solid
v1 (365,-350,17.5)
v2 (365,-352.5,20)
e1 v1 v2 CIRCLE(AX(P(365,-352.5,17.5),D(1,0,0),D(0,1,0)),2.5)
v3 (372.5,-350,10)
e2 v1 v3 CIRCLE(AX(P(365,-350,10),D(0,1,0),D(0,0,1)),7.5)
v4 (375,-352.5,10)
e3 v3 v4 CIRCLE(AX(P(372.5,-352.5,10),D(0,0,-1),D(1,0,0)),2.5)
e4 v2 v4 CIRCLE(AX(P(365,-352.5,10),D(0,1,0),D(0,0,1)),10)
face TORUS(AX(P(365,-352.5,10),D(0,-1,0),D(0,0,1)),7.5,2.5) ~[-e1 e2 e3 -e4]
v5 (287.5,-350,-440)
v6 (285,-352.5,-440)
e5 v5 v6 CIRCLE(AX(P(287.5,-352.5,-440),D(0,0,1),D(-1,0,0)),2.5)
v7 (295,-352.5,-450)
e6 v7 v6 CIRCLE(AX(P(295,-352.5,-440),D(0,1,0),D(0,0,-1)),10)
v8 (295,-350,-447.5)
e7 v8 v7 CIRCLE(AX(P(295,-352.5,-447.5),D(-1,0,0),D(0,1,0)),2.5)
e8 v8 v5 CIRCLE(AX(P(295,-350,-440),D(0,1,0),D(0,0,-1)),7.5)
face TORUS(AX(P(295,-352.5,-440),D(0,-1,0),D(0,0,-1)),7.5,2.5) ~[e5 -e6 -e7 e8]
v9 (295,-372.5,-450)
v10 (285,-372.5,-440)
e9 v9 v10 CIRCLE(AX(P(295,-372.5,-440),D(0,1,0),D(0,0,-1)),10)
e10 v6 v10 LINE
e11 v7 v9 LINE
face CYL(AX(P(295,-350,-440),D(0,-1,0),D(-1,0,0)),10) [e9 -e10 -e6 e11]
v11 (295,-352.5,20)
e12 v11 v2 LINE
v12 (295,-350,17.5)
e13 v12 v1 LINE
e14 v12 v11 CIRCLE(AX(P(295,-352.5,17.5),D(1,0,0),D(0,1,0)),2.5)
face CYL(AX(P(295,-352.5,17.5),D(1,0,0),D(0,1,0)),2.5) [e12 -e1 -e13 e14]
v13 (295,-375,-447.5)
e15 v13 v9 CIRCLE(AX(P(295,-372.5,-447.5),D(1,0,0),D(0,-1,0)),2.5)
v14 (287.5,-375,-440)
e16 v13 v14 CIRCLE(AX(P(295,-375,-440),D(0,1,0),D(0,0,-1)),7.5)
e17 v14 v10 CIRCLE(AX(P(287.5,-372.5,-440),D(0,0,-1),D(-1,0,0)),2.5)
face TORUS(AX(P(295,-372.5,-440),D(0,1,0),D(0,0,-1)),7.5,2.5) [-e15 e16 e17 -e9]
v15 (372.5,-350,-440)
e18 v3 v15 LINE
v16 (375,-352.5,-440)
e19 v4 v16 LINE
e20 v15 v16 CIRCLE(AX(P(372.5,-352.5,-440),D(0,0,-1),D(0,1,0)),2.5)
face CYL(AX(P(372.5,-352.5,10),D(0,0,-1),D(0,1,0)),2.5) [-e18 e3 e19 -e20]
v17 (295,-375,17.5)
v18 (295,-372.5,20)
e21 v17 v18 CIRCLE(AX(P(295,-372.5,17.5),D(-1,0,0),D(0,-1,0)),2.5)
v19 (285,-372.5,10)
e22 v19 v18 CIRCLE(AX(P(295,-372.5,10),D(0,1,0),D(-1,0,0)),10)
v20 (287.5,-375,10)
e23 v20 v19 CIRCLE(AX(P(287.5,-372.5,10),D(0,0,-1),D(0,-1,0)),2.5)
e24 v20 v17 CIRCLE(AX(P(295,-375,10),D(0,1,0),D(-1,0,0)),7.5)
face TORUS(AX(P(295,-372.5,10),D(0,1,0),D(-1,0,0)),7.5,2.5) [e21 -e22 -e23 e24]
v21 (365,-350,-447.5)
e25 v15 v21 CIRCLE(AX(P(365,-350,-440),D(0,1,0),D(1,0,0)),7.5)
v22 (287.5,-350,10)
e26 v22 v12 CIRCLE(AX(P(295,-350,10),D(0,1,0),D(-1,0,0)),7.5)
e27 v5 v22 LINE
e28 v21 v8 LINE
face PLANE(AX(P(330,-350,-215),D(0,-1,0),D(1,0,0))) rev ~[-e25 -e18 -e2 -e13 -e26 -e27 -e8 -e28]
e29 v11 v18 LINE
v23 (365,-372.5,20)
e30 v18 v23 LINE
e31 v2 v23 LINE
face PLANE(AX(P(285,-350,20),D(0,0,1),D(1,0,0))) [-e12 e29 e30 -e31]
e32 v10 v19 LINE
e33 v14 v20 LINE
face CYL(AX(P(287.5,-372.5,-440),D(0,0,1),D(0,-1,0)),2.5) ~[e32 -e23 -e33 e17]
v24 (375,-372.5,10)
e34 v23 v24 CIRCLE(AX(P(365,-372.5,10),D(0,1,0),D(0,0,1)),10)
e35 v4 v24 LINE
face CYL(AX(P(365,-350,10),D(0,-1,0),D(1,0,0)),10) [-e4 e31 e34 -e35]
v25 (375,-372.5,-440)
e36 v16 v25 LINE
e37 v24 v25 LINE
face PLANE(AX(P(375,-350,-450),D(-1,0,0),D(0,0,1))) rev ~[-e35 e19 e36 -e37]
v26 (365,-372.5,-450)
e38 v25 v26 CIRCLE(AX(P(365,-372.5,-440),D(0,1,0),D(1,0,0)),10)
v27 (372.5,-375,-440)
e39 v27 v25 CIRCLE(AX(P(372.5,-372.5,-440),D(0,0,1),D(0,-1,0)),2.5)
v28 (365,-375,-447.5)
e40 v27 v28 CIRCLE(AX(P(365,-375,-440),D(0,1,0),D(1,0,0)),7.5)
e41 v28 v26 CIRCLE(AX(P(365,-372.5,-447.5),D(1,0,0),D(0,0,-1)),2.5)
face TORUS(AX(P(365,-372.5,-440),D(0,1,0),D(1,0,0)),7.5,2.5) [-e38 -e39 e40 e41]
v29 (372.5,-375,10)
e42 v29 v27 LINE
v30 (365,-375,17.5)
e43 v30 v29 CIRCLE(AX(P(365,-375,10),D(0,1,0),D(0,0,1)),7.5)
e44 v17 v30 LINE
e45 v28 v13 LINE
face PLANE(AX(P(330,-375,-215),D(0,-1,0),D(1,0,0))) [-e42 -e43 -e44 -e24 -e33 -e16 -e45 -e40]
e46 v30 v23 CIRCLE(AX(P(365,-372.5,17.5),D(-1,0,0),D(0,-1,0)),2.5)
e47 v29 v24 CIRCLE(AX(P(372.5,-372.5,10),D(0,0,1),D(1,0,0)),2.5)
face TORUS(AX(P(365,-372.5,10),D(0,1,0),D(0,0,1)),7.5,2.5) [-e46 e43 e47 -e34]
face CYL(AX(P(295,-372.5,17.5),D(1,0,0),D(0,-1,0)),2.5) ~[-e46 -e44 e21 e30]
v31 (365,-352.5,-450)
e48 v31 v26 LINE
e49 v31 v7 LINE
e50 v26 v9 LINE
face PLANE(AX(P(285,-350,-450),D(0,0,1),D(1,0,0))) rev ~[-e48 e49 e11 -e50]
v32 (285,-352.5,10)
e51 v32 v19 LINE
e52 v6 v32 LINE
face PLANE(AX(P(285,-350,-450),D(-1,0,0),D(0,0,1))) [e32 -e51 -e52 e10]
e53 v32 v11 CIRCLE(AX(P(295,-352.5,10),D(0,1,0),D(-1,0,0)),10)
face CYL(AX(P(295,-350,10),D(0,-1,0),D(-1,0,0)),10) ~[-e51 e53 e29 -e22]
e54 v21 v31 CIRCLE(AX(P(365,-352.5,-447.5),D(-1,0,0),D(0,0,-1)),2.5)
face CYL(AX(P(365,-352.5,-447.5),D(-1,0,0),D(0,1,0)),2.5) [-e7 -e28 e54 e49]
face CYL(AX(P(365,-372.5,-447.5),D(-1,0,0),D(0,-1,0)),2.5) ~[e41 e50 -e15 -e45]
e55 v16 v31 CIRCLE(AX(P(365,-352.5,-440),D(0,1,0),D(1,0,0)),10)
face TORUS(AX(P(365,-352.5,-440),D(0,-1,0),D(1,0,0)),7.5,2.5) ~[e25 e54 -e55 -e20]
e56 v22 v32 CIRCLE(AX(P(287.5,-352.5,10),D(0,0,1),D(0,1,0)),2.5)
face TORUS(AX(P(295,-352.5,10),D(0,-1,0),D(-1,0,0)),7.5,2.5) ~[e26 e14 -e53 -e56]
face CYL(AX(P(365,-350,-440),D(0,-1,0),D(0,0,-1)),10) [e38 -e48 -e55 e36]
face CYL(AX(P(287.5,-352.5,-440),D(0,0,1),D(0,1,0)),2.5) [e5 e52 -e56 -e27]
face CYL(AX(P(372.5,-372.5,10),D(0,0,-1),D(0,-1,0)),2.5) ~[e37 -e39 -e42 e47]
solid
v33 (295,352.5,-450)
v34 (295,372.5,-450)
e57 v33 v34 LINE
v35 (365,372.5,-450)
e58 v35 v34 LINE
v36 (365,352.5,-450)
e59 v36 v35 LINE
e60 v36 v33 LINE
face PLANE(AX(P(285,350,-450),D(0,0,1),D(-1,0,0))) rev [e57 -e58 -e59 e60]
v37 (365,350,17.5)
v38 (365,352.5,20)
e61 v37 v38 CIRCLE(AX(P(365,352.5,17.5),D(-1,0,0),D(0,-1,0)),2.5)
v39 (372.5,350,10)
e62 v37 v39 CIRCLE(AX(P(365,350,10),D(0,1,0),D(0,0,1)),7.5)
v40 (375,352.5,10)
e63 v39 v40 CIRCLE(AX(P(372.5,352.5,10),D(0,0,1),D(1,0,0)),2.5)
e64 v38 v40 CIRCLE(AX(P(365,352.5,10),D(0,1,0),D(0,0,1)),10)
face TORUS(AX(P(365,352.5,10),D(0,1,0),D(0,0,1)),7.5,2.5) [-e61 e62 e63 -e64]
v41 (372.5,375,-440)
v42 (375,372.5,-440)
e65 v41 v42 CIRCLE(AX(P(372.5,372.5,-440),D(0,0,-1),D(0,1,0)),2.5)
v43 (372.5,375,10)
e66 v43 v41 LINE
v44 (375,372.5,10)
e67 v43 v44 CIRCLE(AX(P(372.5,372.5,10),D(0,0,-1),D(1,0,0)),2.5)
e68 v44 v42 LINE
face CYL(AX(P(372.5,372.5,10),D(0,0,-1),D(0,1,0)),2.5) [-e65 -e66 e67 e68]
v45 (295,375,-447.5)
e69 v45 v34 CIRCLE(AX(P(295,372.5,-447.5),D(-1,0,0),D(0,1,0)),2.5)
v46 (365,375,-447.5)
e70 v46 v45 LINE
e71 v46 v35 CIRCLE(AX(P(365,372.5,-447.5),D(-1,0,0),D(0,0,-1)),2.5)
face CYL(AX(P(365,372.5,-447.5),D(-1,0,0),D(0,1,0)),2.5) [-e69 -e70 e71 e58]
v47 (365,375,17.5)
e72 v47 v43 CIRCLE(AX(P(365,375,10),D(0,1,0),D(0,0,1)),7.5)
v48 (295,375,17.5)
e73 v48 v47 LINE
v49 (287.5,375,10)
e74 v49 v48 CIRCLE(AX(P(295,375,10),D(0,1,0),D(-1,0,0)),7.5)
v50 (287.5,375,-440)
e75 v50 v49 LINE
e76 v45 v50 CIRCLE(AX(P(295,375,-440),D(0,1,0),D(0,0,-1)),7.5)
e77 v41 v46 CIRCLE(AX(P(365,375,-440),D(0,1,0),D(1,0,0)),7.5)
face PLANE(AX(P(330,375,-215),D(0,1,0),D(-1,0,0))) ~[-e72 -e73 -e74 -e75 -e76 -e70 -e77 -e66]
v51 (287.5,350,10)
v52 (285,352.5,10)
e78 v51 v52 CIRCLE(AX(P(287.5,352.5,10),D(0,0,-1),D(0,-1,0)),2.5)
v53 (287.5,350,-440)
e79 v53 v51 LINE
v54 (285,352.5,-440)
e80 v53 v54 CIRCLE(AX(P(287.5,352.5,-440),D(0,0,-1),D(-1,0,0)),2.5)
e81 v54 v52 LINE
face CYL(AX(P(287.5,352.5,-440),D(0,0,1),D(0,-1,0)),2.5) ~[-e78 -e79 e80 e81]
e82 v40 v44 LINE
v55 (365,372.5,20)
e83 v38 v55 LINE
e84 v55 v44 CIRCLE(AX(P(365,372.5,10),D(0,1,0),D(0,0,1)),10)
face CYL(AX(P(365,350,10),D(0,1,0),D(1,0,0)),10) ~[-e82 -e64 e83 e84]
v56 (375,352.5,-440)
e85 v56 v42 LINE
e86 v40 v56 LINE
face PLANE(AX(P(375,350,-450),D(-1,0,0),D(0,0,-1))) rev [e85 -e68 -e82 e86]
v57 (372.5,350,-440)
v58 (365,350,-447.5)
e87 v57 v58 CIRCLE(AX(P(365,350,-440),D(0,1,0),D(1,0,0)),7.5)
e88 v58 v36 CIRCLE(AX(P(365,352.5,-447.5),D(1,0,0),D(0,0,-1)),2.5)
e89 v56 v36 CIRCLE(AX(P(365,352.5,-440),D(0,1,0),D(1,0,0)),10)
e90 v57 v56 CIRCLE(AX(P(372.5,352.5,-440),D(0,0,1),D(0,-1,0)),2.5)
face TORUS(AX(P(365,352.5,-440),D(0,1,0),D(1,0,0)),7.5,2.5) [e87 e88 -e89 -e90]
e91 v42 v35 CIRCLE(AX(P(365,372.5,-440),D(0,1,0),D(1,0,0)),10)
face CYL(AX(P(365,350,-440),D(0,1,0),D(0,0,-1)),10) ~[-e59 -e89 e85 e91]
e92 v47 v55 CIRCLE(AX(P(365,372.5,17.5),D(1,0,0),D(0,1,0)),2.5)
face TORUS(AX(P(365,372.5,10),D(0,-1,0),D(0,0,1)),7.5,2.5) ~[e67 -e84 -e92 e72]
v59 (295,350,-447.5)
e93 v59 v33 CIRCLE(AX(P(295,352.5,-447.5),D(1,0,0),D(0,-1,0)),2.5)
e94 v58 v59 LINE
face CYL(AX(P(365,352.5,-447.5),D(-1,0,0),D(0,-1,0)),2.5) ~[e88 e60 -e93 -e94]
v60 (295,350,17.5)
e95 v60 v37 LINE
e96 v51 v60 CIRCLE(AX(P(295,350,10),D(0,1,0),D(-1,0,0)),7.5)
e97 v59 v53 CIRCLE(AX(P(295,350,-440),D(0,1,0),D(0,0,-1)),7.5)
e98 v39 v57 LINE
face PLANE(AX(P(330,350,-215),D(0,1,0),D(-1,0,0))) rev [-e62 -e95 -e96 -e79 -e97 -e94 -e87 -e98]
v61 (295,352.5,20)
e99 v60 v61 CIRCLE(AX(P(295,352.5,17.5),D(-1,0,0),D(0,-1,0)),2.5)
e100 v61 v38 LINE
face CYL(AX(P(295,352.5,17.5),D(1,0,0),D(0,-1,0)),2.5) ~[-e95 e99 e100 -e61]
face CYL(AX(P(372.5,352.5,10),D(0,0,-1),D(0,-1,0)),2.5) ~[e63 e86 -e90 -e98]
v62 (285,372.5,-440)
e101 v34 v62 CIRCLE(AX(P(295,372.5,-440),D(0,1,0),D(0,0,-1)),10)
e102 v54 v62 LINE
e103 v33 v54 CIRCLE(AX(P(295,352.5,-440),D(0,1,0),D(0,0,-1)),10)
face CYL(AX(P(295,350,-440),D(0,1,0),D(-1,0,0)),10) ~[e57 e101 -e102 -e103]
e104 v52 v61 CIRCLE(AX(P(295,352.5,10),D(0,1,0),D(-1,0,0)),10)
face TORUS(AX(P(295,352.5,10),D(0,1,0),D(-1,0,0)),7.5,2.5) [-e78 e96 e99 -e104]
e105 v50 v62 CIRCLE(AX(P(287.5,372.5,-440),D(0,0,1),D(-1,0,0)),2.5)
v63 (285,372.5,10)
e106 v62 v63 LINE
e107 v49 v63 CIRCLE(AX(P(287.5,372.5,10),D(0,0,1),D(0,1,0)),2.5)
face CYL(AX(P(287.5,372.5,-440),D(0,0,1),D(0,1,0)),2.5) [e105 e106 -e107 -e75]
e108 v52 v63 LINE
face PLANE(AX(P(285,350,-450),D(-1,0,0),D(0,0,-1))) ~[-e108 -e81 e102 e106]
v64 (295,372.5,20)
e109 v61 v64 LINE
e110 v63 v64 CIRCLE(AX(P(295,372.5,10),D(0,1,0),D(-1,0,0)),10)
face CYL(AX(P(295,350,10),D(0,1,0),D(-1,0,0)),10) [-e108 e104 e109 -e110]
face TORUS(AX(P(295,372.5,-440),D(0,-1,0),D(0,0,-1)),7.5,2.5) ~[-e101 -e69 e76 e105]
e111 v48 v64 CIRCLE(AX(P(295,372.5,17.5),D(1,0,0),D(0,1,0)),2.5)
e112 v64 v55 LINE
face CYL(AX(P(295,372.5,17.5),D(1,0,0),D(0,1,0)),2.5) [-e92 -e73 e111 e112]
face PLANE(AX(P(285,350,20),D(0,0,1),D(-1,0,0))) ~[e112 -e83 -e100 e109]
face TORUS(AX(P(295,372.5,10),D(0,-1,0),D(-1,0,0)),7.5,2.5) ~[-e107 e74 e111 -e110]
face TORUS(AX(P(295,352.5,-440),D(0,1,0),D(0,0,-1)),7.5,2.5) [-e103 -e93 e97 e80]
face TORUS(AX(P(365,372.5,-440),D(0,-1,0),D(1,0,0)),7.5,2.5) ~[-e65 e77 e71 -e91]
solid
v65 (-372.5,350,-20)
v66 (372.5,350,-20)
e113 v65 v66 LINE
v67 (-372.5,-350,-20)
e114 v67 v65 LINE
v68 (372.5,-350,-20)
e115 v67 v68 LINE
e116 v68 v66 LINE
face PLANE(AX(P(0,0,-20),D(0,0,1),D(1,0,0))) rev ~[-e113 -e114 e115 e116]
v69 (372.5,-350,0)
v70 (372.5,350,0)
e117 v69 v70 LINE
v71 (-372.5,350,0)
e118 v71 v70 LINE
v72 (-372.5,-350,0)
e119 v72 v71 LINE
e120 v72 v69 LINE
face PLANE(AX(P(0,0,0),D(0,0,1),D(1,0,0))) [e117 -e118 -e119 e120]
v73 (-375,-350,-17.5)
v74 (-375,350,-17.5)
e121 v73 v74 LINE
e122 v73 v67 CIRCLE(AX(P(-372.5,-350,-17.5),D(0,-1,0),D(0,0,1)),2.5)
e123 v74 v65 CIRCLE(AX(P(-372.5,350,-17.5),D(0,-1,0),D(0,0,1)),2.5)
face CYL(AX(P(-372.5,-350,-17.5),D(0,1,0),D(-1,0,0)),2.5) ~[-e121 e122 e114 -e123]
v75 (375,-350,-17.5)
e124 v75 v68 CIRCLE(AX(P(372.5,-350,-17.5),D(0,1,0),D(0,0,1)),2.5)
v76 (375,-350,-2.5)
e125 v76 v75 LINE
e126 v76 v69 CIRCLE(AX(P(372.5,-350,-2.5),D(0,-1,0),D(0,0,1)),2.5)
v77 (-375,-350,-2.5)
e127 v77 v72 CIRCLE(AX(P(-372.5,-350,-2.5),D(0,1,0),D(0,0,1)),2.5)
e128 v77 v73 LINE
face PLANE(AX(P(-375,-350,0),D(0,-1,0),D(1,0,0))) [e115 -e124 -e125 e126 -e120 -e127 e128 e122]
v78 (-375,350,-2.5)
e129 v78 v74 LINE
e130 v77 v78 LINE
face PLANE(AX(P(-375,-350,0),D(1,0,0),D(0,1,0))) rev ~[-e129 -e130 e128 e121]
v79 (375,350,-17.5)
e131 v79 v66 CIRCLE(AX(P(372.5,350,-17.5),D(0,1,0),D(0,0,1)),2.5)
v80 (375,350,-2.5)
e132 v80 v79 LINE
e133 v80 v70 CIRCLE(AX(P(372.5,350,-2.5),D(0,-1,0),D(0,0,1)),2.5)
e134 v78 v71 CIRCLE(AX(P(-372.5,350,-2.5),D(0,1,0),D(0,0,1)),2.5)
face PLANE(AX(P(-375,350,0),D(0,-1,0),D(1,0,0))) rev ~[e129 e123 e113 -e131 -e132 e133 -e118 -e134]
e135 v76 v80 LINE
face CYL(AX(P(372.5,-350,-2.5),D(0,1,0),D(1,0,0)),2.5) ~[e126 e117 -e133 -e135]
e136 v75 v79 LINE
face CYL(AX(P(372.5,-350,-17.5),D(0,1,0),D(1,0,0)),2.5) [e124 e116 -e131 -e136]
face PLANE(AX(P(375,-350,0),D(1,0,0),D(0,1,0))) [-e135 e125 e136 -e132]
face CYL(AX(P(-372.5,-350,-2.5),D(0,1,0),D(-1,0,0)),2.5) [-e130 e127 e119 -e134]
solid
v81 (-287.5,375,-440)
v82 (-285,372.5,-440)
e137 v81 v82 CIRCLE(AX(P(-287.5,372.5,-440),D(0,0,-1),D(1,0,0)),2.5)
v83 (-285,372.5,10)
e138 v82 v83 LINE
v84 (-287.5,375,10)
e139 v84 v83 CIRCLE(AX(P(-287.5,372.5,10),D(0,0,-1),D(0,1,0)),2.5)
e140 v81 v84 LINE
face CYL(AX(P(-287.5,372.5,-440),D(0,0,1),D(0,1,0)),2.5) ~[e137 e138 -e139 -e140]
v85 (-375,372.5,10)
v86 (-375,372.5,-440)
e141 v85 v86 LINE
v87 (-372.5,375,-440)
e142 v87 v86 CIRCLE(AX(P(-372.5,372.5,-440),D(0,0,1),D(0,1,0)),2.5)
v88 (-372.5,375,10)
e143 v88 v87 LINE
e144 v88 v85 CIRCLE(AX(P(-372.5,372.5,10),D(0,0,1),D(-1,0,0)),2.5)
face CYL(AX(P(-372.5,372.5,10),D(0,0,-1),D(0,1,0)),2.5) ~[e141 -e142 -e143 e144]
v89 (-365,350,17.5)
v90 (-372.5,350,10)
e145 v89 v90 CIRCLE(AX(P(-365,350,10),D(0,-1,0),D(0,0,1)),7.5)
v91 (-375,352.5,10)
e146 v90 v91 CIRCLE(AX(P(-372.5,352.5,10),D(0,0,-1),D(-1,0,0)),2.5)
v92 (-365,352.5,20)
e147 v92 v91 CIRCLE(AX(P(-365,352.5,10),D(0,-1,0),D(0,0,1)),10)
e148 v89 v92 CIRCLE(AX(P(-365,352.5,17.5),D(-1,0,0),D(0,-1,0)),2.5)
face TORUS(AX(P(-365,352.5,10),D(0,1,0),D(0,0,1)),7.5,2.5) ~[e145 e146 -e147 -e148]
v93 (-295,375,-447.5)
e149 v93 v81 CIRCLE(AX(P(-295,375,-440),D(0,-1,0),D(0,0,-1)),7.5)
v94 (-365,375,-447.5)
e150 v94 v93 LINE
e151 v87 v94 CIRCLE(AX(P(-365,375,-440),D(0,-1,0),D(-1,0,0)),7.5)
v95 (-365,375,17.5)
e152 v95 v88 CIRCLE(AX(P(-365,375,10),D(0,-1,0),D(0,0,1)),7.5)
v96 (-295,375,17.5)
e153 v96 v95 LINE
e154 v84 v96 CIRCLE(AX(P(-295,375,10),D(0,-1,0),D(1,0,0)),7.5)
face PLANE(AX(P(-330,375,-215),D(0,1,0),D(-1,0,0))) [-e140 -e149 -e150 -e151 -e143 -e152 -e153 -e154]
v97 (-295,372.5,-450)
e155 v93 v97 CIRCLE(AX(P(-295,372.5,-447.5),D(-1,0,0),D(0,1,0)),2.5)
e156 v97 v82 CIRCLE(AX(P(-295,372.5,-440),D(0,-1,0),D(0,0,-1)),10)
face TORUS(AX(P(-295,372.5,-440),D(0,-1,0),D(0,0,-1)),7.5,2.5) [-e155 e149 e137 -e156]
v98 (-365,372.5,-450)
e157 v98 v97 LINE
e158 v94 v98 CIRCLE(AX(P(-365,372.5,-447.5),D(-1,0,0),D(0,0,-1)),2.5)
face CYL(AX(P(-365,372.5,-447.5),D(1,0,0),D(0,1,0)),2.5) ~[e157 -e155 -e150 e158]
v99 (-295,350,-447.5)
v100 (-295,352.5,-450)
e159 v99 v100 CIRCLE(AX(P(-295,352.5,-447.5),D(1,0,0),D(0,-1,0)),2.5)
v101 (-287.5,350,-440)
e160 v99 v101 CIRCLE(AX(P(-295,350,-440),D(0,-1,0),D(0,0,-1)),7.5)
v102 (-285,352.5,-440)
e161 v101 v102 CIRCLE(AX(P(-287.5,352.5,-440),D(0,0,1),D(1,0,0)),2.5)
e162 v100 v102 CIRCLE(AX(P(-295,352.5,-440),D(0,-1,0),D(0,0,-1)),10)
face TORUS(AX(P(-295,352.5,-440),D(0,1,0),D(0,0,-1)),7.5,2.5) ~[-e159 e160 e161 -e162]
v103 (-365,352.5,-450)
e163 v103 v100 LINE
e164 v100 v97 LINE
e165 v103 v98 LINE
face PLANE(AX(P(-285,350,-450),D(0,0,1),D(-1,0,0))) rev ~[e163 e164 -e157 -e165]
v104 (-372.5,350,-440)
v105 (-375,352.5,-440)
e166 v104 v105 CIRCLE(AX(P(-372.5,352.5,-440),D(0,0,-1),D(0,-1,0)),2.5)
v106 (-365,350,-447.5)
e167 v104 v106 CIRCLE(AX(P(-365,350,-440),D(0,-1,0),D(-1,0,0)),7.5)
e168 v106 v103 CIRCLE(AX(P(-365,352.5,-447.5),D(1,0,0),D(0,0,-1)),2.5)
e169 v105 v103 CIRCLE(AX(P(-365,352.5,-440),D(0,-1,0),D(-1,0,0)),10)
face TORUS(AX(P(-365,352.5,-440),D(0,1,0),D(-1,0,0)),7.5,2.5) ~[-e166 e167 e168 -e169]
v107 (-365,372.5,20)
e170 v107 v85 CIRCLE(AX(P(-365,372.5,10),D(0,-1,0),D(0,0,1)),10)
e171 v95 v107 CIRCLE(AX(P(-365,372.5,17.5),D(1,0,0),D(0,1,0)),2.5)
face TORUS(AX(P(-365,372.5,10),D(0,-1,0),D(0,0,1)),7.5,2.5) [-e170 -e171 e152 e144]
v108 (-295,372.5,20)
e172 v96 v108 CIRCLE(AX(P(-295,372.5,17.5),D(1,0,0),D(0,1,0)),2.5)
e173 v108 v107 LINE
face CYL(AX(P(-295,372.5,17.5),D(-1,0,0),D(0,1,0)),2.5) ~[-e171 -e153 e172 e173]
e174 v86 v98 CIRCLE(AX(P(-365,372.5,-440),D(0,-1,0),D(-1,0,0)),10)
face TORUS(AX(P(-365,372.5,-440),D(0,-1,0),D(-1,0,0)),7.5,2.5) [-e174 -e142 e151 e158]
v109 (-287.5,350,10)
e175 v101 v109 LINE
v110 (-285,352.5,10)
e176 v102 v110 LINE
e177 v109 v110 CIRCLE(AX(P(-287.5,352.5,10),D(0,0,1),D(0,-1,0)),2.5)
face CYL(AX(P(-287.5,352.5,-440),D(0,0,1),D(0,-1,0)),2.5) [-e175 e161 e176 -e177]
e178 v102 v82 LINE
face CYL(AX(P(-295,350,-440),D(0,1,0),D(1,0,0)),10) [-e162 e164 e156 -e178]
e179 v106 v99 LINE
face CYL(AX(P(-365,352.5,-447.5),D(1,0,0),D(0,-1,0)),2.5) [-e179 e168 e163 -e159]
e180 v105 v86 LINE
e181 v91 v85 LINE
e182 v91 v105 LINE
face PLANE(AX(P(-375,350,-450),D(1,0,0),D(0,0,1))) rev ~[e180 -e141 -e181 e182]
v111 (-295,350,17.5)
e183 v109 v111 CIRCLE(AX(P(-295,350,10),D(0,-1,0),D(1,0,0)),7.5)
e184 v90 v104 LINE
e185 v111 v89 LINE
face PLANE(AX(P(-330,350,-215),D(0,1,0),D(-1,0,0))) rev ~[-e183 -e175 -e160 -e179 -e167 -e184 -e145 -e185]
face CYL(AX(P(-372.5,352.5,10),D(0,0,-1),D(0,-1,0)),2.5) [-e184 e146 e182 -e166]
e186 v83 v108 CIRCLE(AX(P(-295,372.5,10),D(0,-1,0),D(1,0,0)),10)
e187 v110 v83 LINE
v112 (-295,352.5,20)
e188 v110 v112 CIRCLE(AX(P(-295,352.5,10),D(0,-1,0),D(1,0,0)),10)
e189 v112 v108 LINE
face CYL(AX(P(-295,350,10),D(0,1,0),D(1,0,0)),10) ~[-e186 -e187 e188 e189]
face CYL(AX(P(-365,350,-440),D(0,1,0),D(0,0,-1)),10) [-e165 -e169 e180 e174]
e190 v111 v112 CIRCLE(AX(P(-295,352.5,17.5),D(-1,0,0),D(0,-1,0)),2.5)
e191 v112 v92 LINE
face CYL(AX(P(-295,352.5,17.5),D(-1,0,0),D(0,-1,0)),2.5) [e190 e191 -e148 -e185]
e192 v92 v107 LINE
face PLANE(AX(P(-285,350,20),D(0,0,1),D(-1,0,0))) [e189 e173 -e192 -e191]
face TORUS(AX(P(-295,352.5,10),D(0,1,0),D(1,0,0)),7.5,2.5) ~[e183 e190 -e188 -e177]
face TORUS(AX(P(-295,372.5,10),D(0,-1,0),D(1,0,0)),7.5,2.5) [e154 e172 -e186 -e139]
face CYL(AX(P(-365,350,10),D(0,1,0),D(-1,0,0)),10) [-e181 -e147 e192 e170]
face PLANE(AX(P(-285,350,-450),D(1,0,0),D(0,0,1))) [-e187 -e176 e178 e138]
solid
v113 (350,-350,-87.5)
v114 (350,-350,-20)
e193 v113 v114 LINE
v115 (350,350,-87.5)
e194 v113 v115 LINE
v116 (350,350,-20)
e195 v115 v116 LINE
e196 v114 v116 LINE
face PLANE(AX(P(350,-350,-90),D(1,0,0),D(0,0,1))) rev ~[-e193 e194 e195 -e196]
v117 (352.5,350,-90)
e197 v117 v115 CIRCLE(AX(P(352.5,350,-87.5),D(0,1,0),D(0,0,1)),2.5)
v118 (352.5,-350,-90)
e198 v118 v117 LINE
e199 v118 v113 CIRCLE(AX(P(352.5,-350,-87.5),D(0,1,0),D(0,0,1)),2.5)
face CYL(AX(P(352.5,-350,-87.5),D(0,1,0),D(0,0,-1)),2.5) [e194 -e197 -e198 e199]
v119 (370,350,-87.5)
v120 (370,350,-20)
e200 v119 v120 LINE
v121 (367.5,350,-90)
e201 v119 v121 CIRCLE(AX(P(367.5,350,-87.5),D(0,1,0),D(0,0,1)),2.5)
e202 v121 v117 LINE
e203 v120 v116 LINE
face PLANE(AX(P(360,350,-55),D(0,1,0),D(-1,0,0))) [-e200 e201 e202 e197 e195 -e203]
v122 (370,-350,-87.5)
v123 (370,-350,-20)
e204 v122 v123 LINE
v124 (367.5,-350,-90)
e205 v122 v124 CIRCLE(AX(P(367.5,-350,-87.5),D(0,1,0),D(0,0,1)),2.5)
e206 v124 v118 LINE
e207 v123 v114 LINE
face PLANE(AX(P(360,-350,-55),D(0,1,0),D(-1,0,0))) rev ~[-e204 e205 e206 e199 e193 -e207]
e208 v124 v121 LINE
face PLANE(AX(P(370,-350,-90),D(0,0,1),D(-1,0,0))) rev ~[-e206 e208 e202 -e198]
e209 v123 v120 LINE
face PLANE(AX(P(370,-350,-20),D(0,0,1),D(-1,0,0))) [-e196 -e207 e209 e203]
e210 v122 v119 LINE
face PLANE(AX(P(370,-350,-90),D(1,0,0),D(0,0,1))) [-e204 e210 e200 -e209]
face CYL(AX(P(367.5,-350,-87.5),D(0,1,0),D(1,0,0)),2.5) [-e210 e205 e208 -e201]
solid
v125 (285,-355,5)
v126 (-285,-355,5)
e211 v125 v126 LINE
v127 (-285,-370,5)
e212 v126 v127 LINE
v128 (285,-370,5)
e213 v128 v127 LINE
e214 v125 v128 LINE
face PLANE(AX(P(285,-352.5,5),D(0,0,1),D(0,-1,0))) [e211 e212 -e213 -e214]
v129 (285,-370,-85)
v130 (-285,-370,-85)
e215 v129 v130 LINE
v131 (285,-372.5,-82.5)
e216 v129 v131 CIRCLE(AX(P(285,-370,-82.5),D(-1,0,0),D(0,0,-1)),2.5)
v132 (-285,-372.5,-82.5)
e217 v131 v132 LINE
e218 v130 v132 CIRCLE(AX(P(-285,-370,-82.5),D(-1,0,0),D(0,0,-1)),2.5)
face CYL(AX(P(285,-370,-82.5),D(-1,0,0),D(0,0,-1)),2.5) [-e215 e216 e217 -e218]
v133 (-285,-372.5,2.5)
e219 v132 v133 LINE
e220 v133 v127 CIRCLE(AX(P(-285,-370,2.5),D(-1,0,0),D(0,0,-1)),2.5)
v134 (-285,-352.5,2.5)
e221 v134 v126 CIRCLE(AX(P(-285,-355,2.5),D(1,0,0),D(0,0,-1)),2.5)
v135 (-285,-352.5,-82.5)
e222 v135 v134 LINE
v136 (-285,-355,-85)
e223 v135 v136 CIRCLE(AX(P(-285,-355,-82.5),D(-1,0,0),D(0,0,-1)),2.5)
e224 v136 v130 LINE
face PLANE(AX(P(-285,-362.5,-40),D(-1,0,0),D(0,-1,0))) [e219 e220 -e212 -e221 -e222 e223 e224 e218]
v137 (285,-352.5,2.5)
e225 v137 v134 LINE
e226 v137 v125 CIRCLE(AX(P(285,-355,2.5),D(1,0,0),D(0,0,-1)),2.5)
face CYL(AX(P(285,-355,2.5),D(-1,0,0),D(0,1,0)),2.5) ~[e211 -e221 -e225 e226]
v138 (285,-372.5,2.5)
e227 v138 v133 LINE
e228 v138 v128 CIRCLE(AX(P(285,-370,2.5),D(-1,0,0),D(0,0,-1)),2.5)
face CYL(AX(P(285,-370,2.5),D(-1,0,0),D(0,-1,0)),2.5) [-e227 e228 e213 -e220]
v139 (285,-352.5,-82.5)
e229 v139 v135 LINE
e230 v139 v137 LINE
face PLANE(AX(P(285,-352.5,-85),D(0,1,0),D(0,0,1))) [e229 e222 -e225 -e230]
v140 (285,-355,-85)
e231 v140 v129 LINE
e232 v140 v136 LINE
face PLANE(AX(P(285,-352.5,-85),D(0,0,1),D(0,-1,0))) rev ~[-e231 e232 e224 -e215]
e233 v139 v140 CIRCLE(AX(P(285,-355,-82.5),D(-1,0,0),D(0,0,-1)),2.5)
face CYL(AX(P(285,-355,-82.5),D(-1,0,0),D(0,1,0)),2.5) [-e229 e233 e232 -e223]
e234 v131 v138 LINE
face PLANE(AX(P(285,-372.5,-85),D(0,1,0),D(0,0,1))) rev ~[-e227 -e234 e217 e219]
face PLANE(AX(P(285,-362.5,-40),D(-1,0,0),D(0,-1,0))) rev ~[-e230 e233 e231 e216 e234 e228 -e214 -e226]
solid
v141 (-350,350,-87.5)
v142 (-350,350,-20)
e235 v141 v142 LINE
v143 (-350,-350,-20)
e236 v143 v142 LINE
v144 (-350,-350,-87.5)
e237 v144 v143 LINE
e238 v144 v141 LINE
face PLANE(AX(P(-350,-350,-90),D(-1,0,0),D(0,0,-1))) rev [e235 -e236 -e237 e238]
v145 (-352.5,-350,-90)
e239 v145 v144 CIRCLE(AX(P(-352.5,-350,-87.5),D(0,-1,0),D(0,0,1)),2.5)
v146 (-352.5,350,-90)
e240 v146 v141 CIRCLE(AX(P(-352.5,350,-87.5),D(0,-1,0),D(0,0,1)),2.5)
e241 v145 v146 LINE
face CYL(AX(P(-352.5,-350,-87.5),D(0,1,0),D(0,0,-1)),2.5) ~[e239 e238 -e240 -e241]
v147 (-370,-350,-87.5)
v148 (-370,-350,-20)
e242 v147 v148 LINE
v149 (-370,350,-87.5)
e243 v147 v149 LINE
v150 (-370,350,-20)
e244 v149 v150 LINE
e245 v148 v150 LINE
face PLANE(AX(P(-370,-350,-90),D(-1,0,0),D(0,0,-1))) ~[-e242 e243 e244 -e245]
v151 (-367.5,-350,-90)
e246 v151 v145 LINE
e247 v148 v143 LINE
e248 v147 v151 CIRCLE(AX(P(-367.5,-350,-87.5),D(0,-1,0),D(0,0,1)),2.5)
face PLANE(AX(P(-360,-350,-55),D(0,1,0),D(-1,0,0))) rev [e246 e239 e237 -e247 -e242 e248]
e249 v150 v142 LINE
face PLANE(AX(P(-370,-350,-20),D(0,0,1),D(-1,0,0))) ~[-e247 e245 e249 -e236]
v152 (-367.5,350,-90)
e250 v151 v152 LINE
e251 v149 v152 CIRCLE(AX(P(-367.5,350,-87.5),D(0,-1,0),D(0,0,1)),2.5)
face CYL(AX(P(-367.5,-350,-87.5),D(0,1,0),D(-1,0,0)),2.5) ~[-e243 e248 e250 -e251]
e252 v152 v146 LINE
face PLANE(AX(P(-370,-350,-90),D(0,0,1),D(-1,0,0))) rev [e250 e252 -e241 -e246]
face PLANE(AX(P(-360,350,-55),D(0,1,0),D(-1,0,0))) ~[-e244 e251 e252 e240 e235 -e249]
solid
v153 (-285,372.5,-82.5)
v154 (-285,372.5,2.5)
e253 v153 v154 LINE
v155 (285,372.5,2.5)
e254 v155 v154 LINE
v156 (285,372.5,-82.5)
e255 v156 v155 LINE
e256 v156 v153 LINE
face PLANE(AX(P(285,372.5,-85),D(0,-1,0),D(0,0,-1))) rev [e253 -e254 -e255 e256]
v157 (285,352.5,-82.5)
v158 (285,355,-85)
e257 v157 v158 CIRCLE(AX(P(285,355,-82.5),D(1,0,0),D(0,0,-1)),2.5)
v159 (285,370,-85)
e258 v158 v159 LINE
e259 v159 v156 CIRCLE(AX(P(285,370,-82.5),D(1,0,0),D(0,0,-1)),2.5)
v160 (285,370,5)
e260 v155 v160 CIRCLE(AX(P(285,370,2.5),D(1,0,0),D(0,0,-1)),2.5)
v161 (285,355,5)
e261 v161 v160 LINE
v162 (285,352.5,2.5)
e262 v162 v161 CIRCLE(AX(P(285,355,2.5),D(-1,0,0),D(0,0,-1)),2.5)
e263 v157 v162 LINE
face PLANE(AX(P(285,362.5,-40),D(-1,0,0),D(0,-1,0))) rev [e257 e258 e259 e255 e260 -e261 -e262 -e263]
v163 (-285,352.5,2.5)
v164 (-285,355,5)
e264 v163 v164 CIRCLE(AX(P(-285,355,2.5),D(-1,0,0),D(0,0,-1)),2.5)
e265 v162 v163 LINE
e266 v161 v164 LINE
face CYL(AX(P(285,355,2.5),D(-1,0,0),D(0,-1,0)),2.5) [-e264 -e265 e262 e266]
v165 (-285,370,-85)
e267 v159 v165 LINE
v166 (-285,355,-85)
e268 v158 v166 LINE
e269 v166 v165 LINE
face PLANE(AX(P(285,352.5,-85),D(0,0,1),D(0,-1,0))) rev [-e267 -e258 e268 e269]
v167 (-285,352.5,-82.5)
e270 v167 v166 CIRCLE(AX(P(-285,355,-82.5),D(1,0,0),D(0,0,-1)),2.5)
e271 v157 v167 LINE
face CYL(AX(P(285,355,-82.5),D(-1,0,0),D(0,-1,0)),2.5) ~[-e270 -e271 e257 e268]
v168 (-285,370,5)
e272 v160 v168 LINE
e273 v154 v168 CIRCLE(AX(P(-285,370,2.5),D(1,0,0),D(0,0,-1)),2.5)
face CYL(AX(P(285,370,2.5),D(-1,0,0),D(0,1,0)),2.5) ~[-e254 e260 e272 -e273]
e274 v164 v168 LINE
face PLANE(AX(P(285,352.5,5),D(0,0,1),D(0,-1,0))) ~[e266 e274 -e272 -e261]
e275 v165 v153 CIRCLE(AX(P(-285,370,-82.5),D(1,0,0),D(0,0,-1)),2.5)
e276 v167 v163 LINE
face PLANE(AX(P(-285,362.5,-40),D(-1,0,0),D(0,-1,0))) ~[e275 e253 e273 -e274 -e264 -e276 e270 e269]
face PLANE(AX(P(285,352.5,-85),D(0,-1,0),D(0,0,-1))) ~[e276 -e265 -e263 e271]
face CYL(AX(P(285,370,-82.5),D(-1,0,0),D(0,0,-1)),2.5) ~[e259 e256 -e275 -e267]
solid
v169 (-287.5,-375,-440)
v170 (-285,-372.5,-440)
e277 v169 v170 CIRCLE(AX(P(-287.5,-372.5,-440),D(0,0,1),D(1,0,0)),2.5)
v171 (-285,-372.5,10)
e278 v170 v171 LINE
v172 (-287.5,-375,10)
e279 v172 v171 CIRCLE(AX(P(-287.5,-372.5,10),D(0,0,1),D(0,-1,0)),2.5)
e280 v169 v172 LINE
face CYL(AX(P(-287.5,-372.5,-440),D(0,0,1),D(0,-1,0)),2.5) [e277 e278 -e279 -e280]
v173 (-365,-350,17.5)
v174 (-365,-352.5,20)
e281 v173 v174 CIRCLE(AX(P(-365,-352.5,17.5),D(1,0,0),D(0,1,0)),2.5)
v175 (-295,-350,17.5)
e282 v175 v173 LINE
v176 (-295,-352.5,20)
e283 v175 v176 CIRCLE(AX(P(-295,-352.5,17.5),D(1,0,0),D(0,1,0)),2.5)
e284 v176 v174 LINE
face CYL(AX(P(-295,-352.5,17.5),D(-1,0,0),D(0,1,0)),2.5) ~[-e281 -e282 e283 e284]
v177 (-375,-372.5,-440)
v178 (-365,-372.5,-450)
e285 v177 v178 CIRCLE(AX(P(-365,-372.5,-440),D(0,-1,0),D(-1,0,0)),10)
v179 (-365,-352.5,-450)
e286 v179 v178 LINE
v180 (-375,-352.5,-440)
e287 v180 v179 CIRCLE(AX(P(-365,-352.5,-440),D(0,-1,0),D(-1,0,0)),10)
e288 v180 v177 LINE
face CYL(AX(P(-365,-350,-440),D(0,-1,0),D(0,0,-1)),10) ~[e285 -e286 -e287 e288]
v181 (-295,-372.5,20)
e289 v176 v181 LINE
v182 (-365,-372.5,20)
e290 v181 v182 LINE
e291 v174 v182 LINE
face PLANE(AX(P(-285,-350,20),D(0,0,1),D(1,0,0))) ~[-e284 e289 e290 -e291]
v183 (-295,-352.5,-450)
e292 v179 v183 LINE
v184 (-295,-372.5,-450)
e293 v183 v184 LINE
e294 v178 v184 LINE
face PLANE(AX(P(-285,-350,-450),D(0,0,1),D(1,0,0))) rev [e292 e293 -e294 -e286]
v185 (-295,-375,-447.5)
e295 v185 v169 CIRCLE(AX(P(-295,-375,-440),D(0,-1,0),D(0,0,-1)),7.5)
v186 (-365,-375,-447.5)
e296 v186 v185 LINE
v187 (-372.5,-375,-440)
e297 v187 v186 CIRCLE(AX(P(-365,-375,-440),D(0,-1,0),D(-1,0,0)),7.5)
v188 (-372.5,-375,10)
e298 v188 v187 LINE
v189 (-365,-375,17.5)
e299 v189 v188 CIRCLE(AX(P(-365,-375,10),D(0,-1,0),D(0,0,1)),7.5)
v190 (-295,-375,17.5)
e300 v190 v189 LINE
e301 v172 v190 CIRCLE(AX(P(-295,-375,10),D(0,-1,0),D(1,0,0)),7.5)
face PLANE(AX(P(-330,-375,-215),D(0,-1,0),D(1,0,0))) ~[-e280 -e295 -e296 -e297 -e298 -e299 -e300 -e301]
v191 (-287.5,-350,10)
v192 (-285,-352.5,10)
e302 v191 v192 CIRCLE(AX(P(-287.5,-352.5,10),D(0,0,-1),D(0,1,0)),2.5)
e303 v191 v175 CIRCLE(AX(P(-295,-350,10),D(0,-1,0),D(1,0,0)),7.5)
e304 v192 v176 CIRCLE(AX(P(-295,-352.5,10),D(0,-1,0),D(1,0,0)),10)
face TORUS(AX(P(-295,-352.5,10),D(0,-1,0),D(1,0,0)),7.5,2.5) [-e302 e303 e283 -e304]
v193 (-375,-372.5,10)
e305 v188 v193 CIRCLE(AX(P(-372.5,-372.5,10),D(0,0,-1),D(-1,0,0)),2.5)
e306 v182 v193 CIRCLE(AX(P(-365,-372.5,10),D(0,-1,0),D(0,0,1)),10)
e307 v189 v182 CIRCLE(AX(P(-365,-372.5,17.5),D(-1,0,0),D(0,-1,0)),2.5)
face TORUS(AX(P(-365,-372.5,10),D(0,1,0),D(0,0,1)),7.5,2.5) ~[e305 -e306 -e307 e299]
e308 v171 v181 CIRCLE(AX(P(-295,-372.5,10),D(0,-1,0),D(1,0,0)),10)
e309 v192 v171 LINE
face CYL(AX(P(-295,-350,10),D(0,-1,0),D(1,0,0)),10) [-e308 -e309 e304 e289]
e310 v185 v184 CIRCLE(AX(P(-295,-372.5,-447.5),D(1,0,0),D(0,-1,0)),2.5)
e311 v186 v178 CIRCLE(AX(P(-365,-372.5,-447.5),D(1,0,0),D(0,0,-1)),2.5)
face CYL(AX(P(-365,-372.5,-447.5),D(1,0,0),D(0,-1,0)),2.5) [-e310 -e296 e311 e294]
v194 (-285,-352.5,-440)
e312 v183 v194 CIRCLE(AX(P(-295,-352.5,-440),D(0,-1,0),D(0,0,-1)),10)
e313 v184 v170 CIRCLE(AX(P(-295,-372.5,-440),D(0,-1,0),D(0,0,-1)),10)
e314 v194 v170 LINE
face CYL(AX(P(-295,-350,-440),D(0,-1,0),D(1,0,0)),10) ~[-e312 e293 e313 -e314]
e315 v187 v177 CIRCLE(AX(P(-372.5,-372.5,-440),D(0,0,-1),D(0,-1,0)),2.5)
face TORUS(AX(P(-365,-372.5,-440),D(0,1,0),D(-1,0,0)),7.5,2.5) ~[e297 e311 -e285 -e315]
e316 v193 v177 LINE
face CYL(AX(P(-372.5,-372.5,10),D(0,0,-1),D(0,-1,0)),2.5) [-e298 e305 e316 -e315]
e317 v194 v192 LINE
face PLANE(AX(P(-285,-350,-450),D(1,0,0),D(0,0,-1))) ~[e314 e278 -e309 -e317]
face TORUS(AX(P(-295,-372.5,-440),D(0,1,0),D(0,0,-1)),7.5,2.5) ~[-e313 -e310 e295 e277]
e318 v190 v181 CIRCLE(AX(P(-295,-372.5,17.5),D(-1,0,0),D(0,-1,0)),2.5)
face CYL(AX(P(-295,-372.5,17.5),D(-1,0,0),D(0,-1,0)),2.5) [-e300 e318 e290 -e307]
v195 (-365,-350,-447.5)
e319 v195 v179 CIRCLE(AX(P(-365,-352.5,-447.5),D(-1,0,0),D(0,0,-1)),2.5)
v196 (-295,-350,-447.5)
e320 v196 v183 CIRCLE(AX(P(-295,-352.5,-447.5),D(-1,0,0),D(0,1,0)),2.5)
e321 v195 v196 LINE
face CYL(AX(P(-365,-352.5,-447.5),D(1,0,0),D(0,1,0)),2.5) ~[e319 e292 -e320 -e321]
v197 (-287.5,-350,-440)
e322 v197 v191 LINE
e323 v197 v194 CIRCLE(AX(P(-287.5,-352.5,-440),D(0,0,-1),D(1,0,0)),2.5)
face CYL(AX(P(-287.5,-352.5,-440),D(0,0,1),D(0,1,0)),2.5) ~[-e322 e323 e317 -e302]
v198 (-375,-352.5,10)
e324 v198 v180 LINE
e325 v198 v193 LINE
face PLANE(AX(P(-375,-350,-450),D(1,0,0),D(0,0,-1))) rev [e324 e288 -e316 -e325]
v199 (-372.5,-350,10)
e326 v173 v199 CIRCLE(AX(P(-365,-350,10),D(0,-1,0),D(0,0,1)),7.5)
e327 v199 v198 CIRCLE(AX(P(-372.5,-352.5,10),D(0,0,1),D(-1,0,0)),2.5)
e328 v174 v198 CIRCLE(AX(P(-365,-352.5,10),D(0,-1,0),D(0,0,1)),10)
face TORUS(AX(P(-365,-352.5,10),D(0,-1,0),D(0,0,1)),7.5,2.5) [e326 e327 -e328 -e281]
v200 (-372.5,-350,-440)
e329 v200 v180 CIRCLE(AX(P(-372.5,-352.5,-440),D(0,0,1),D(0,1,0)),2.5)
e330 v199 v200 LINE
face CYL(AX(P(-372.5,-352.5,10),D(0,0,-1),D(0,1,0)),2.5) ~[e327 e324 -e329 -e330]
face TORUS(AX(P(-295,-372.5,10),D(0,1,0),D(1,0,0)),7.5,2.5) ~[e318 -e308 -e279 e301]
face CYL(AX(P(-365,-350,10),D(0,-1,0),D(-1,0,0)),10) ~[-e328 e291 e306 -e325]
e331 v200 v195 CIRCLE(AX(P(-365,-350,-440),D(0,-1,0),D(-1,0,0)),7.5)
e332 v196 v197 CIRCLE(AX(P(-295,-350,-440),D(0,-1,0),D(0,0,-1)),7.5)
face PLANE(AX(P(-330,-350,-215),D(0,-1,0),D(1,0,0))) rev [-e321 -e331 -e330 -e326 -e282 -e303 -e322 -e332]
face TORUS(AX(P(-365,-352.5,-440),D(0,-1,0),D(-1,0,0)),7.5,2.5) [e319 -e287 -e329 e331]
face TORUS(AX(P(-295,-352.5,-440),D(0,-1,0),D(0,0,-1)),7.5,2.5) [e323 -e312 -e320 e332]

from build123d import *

# Parameters (mm, degrees)
F0_W      = 750
F0_H      = 700
F1_DEPTH  = 20
F2_W      = 90
F2_H      = 470
F3_DEPTH  = 25
F4_R      = 10
F5_W      = 20
F5_H      = 70
F6_DEPTH  = 700
F7_R      = 2.5
F8_R      = 2.5
F10_W     = 20
F10_H     = 90
F11_DEPTH = 570
F12_R     = 2.5
F14_R     = 2.5


with BuildPart() as f1:
    # F0 (on Top) → F1 (new body)
    with BuildSketch(Plane.XY):
        Rectangle(F0_W, F0_H)
    extrude(amount=-F1_DEPTH)

    # F14
    f14_edges = [f1.edges().sort_by_distance(p)[0] for p in [
        (375, 0, 0),
        (375, 0, -20),
        (-375, 0, -20),
        (-375, 0, 0),
    ]]
    fillet(f14_edges, radius=F14_R)


with BuildPart() as f3:
    # F2 (on face) → F3 (new body)
    with BuildSketch(Plane.XZ.offset(350)):
        with Locations((330, -215)):
            Rectangle(F2_W, F2_H)
    extrude(amount=F3_DEPTH)

    # F4
    f4_edges = [f3.edges().sort_by_distance(p)[0] for p in [
        (375, -362.5, 20),
        (285, -362.5, 20),
        (375, -362.5, -450),
        (285, -362.5, -450),
    ]]
    fillet(f4_edges, radius=F4_R)

    # F7
    f7_edges = [f3.edges().sort_by_distance(p)[0] for p in [
        (330, -350, 20),
        (365, -362.5, 20),
        (295, -362.5, 20),
        (330, -375, 20),
    ]]
    fillet(f7_edges, radius=F7_R)


with BuildPart() as f6:
    # F5 (on face) → F6 (new body, through all)
    with BuildSketch(Plane(origin=(0, -350, 0), x_dir=(-1, 0, 0), z_dir=(0, 1, 0))):
        with Locations((-360, -55)):
            Rectangle(F5_W, F5_H)
    extrude(amount=F6_DEPTH)

    # F8
    f8_edges = [f6.edges().sort_by_distance(p)[0] for p in [
        (350, 0, -90),
        (370, 0, -90),
    ]]
    fillet(f8_edges, radius=F8_R)


with BuildPart() as f9_1:
    # F9: instance of F3
    add(f3.part.mirror(Plane.YZ))


with BuildPart() as f9_2:
    # F9: instance of F6
    add(f6.part.mirror(Plane.YZ))


with BuildPart() as f11:
    # F10 (on face) → F11 (new body, through all)
    with BuildSketch(Plane(origin=(285, 0, 0), x_dir=(0, -1, 0), z_dir=(-1, 0, 0))):
        with Locations((362.5, -40)):
            Rectangle(F10_W, F10_H)
    extrude(amount=F11_DEPTH)

    # F12
    f12_edges = [f11.edges().sort_by_distance(p)[0] for p in [
        (0, -352.5, 5),
        (0, -372.5, 5),
        (0, -372.5, -85),
        (0, -352.5, -85),
    ]]
    fillet(f12_edges, radius=F12_R)


with BuildPart() as f13_1:
    # F13: instance of F3
    add(f3.part.mirror(Plane.XZ))


with BuildPart() as f13_2:
    # F13: instance of F9_1
    add(f9_1.part.mirror(Plane.XZ))


with BuildPart() as f13_3:
    # F13: instance of F11
    add(f11.part.mirror(Plane.XZ))


solid = Compound([f1.part, f3.part, f6.part, f9_1.part, f9_2.part, f11.part, f13_1.part, f13_2.part, f13_3.part])
